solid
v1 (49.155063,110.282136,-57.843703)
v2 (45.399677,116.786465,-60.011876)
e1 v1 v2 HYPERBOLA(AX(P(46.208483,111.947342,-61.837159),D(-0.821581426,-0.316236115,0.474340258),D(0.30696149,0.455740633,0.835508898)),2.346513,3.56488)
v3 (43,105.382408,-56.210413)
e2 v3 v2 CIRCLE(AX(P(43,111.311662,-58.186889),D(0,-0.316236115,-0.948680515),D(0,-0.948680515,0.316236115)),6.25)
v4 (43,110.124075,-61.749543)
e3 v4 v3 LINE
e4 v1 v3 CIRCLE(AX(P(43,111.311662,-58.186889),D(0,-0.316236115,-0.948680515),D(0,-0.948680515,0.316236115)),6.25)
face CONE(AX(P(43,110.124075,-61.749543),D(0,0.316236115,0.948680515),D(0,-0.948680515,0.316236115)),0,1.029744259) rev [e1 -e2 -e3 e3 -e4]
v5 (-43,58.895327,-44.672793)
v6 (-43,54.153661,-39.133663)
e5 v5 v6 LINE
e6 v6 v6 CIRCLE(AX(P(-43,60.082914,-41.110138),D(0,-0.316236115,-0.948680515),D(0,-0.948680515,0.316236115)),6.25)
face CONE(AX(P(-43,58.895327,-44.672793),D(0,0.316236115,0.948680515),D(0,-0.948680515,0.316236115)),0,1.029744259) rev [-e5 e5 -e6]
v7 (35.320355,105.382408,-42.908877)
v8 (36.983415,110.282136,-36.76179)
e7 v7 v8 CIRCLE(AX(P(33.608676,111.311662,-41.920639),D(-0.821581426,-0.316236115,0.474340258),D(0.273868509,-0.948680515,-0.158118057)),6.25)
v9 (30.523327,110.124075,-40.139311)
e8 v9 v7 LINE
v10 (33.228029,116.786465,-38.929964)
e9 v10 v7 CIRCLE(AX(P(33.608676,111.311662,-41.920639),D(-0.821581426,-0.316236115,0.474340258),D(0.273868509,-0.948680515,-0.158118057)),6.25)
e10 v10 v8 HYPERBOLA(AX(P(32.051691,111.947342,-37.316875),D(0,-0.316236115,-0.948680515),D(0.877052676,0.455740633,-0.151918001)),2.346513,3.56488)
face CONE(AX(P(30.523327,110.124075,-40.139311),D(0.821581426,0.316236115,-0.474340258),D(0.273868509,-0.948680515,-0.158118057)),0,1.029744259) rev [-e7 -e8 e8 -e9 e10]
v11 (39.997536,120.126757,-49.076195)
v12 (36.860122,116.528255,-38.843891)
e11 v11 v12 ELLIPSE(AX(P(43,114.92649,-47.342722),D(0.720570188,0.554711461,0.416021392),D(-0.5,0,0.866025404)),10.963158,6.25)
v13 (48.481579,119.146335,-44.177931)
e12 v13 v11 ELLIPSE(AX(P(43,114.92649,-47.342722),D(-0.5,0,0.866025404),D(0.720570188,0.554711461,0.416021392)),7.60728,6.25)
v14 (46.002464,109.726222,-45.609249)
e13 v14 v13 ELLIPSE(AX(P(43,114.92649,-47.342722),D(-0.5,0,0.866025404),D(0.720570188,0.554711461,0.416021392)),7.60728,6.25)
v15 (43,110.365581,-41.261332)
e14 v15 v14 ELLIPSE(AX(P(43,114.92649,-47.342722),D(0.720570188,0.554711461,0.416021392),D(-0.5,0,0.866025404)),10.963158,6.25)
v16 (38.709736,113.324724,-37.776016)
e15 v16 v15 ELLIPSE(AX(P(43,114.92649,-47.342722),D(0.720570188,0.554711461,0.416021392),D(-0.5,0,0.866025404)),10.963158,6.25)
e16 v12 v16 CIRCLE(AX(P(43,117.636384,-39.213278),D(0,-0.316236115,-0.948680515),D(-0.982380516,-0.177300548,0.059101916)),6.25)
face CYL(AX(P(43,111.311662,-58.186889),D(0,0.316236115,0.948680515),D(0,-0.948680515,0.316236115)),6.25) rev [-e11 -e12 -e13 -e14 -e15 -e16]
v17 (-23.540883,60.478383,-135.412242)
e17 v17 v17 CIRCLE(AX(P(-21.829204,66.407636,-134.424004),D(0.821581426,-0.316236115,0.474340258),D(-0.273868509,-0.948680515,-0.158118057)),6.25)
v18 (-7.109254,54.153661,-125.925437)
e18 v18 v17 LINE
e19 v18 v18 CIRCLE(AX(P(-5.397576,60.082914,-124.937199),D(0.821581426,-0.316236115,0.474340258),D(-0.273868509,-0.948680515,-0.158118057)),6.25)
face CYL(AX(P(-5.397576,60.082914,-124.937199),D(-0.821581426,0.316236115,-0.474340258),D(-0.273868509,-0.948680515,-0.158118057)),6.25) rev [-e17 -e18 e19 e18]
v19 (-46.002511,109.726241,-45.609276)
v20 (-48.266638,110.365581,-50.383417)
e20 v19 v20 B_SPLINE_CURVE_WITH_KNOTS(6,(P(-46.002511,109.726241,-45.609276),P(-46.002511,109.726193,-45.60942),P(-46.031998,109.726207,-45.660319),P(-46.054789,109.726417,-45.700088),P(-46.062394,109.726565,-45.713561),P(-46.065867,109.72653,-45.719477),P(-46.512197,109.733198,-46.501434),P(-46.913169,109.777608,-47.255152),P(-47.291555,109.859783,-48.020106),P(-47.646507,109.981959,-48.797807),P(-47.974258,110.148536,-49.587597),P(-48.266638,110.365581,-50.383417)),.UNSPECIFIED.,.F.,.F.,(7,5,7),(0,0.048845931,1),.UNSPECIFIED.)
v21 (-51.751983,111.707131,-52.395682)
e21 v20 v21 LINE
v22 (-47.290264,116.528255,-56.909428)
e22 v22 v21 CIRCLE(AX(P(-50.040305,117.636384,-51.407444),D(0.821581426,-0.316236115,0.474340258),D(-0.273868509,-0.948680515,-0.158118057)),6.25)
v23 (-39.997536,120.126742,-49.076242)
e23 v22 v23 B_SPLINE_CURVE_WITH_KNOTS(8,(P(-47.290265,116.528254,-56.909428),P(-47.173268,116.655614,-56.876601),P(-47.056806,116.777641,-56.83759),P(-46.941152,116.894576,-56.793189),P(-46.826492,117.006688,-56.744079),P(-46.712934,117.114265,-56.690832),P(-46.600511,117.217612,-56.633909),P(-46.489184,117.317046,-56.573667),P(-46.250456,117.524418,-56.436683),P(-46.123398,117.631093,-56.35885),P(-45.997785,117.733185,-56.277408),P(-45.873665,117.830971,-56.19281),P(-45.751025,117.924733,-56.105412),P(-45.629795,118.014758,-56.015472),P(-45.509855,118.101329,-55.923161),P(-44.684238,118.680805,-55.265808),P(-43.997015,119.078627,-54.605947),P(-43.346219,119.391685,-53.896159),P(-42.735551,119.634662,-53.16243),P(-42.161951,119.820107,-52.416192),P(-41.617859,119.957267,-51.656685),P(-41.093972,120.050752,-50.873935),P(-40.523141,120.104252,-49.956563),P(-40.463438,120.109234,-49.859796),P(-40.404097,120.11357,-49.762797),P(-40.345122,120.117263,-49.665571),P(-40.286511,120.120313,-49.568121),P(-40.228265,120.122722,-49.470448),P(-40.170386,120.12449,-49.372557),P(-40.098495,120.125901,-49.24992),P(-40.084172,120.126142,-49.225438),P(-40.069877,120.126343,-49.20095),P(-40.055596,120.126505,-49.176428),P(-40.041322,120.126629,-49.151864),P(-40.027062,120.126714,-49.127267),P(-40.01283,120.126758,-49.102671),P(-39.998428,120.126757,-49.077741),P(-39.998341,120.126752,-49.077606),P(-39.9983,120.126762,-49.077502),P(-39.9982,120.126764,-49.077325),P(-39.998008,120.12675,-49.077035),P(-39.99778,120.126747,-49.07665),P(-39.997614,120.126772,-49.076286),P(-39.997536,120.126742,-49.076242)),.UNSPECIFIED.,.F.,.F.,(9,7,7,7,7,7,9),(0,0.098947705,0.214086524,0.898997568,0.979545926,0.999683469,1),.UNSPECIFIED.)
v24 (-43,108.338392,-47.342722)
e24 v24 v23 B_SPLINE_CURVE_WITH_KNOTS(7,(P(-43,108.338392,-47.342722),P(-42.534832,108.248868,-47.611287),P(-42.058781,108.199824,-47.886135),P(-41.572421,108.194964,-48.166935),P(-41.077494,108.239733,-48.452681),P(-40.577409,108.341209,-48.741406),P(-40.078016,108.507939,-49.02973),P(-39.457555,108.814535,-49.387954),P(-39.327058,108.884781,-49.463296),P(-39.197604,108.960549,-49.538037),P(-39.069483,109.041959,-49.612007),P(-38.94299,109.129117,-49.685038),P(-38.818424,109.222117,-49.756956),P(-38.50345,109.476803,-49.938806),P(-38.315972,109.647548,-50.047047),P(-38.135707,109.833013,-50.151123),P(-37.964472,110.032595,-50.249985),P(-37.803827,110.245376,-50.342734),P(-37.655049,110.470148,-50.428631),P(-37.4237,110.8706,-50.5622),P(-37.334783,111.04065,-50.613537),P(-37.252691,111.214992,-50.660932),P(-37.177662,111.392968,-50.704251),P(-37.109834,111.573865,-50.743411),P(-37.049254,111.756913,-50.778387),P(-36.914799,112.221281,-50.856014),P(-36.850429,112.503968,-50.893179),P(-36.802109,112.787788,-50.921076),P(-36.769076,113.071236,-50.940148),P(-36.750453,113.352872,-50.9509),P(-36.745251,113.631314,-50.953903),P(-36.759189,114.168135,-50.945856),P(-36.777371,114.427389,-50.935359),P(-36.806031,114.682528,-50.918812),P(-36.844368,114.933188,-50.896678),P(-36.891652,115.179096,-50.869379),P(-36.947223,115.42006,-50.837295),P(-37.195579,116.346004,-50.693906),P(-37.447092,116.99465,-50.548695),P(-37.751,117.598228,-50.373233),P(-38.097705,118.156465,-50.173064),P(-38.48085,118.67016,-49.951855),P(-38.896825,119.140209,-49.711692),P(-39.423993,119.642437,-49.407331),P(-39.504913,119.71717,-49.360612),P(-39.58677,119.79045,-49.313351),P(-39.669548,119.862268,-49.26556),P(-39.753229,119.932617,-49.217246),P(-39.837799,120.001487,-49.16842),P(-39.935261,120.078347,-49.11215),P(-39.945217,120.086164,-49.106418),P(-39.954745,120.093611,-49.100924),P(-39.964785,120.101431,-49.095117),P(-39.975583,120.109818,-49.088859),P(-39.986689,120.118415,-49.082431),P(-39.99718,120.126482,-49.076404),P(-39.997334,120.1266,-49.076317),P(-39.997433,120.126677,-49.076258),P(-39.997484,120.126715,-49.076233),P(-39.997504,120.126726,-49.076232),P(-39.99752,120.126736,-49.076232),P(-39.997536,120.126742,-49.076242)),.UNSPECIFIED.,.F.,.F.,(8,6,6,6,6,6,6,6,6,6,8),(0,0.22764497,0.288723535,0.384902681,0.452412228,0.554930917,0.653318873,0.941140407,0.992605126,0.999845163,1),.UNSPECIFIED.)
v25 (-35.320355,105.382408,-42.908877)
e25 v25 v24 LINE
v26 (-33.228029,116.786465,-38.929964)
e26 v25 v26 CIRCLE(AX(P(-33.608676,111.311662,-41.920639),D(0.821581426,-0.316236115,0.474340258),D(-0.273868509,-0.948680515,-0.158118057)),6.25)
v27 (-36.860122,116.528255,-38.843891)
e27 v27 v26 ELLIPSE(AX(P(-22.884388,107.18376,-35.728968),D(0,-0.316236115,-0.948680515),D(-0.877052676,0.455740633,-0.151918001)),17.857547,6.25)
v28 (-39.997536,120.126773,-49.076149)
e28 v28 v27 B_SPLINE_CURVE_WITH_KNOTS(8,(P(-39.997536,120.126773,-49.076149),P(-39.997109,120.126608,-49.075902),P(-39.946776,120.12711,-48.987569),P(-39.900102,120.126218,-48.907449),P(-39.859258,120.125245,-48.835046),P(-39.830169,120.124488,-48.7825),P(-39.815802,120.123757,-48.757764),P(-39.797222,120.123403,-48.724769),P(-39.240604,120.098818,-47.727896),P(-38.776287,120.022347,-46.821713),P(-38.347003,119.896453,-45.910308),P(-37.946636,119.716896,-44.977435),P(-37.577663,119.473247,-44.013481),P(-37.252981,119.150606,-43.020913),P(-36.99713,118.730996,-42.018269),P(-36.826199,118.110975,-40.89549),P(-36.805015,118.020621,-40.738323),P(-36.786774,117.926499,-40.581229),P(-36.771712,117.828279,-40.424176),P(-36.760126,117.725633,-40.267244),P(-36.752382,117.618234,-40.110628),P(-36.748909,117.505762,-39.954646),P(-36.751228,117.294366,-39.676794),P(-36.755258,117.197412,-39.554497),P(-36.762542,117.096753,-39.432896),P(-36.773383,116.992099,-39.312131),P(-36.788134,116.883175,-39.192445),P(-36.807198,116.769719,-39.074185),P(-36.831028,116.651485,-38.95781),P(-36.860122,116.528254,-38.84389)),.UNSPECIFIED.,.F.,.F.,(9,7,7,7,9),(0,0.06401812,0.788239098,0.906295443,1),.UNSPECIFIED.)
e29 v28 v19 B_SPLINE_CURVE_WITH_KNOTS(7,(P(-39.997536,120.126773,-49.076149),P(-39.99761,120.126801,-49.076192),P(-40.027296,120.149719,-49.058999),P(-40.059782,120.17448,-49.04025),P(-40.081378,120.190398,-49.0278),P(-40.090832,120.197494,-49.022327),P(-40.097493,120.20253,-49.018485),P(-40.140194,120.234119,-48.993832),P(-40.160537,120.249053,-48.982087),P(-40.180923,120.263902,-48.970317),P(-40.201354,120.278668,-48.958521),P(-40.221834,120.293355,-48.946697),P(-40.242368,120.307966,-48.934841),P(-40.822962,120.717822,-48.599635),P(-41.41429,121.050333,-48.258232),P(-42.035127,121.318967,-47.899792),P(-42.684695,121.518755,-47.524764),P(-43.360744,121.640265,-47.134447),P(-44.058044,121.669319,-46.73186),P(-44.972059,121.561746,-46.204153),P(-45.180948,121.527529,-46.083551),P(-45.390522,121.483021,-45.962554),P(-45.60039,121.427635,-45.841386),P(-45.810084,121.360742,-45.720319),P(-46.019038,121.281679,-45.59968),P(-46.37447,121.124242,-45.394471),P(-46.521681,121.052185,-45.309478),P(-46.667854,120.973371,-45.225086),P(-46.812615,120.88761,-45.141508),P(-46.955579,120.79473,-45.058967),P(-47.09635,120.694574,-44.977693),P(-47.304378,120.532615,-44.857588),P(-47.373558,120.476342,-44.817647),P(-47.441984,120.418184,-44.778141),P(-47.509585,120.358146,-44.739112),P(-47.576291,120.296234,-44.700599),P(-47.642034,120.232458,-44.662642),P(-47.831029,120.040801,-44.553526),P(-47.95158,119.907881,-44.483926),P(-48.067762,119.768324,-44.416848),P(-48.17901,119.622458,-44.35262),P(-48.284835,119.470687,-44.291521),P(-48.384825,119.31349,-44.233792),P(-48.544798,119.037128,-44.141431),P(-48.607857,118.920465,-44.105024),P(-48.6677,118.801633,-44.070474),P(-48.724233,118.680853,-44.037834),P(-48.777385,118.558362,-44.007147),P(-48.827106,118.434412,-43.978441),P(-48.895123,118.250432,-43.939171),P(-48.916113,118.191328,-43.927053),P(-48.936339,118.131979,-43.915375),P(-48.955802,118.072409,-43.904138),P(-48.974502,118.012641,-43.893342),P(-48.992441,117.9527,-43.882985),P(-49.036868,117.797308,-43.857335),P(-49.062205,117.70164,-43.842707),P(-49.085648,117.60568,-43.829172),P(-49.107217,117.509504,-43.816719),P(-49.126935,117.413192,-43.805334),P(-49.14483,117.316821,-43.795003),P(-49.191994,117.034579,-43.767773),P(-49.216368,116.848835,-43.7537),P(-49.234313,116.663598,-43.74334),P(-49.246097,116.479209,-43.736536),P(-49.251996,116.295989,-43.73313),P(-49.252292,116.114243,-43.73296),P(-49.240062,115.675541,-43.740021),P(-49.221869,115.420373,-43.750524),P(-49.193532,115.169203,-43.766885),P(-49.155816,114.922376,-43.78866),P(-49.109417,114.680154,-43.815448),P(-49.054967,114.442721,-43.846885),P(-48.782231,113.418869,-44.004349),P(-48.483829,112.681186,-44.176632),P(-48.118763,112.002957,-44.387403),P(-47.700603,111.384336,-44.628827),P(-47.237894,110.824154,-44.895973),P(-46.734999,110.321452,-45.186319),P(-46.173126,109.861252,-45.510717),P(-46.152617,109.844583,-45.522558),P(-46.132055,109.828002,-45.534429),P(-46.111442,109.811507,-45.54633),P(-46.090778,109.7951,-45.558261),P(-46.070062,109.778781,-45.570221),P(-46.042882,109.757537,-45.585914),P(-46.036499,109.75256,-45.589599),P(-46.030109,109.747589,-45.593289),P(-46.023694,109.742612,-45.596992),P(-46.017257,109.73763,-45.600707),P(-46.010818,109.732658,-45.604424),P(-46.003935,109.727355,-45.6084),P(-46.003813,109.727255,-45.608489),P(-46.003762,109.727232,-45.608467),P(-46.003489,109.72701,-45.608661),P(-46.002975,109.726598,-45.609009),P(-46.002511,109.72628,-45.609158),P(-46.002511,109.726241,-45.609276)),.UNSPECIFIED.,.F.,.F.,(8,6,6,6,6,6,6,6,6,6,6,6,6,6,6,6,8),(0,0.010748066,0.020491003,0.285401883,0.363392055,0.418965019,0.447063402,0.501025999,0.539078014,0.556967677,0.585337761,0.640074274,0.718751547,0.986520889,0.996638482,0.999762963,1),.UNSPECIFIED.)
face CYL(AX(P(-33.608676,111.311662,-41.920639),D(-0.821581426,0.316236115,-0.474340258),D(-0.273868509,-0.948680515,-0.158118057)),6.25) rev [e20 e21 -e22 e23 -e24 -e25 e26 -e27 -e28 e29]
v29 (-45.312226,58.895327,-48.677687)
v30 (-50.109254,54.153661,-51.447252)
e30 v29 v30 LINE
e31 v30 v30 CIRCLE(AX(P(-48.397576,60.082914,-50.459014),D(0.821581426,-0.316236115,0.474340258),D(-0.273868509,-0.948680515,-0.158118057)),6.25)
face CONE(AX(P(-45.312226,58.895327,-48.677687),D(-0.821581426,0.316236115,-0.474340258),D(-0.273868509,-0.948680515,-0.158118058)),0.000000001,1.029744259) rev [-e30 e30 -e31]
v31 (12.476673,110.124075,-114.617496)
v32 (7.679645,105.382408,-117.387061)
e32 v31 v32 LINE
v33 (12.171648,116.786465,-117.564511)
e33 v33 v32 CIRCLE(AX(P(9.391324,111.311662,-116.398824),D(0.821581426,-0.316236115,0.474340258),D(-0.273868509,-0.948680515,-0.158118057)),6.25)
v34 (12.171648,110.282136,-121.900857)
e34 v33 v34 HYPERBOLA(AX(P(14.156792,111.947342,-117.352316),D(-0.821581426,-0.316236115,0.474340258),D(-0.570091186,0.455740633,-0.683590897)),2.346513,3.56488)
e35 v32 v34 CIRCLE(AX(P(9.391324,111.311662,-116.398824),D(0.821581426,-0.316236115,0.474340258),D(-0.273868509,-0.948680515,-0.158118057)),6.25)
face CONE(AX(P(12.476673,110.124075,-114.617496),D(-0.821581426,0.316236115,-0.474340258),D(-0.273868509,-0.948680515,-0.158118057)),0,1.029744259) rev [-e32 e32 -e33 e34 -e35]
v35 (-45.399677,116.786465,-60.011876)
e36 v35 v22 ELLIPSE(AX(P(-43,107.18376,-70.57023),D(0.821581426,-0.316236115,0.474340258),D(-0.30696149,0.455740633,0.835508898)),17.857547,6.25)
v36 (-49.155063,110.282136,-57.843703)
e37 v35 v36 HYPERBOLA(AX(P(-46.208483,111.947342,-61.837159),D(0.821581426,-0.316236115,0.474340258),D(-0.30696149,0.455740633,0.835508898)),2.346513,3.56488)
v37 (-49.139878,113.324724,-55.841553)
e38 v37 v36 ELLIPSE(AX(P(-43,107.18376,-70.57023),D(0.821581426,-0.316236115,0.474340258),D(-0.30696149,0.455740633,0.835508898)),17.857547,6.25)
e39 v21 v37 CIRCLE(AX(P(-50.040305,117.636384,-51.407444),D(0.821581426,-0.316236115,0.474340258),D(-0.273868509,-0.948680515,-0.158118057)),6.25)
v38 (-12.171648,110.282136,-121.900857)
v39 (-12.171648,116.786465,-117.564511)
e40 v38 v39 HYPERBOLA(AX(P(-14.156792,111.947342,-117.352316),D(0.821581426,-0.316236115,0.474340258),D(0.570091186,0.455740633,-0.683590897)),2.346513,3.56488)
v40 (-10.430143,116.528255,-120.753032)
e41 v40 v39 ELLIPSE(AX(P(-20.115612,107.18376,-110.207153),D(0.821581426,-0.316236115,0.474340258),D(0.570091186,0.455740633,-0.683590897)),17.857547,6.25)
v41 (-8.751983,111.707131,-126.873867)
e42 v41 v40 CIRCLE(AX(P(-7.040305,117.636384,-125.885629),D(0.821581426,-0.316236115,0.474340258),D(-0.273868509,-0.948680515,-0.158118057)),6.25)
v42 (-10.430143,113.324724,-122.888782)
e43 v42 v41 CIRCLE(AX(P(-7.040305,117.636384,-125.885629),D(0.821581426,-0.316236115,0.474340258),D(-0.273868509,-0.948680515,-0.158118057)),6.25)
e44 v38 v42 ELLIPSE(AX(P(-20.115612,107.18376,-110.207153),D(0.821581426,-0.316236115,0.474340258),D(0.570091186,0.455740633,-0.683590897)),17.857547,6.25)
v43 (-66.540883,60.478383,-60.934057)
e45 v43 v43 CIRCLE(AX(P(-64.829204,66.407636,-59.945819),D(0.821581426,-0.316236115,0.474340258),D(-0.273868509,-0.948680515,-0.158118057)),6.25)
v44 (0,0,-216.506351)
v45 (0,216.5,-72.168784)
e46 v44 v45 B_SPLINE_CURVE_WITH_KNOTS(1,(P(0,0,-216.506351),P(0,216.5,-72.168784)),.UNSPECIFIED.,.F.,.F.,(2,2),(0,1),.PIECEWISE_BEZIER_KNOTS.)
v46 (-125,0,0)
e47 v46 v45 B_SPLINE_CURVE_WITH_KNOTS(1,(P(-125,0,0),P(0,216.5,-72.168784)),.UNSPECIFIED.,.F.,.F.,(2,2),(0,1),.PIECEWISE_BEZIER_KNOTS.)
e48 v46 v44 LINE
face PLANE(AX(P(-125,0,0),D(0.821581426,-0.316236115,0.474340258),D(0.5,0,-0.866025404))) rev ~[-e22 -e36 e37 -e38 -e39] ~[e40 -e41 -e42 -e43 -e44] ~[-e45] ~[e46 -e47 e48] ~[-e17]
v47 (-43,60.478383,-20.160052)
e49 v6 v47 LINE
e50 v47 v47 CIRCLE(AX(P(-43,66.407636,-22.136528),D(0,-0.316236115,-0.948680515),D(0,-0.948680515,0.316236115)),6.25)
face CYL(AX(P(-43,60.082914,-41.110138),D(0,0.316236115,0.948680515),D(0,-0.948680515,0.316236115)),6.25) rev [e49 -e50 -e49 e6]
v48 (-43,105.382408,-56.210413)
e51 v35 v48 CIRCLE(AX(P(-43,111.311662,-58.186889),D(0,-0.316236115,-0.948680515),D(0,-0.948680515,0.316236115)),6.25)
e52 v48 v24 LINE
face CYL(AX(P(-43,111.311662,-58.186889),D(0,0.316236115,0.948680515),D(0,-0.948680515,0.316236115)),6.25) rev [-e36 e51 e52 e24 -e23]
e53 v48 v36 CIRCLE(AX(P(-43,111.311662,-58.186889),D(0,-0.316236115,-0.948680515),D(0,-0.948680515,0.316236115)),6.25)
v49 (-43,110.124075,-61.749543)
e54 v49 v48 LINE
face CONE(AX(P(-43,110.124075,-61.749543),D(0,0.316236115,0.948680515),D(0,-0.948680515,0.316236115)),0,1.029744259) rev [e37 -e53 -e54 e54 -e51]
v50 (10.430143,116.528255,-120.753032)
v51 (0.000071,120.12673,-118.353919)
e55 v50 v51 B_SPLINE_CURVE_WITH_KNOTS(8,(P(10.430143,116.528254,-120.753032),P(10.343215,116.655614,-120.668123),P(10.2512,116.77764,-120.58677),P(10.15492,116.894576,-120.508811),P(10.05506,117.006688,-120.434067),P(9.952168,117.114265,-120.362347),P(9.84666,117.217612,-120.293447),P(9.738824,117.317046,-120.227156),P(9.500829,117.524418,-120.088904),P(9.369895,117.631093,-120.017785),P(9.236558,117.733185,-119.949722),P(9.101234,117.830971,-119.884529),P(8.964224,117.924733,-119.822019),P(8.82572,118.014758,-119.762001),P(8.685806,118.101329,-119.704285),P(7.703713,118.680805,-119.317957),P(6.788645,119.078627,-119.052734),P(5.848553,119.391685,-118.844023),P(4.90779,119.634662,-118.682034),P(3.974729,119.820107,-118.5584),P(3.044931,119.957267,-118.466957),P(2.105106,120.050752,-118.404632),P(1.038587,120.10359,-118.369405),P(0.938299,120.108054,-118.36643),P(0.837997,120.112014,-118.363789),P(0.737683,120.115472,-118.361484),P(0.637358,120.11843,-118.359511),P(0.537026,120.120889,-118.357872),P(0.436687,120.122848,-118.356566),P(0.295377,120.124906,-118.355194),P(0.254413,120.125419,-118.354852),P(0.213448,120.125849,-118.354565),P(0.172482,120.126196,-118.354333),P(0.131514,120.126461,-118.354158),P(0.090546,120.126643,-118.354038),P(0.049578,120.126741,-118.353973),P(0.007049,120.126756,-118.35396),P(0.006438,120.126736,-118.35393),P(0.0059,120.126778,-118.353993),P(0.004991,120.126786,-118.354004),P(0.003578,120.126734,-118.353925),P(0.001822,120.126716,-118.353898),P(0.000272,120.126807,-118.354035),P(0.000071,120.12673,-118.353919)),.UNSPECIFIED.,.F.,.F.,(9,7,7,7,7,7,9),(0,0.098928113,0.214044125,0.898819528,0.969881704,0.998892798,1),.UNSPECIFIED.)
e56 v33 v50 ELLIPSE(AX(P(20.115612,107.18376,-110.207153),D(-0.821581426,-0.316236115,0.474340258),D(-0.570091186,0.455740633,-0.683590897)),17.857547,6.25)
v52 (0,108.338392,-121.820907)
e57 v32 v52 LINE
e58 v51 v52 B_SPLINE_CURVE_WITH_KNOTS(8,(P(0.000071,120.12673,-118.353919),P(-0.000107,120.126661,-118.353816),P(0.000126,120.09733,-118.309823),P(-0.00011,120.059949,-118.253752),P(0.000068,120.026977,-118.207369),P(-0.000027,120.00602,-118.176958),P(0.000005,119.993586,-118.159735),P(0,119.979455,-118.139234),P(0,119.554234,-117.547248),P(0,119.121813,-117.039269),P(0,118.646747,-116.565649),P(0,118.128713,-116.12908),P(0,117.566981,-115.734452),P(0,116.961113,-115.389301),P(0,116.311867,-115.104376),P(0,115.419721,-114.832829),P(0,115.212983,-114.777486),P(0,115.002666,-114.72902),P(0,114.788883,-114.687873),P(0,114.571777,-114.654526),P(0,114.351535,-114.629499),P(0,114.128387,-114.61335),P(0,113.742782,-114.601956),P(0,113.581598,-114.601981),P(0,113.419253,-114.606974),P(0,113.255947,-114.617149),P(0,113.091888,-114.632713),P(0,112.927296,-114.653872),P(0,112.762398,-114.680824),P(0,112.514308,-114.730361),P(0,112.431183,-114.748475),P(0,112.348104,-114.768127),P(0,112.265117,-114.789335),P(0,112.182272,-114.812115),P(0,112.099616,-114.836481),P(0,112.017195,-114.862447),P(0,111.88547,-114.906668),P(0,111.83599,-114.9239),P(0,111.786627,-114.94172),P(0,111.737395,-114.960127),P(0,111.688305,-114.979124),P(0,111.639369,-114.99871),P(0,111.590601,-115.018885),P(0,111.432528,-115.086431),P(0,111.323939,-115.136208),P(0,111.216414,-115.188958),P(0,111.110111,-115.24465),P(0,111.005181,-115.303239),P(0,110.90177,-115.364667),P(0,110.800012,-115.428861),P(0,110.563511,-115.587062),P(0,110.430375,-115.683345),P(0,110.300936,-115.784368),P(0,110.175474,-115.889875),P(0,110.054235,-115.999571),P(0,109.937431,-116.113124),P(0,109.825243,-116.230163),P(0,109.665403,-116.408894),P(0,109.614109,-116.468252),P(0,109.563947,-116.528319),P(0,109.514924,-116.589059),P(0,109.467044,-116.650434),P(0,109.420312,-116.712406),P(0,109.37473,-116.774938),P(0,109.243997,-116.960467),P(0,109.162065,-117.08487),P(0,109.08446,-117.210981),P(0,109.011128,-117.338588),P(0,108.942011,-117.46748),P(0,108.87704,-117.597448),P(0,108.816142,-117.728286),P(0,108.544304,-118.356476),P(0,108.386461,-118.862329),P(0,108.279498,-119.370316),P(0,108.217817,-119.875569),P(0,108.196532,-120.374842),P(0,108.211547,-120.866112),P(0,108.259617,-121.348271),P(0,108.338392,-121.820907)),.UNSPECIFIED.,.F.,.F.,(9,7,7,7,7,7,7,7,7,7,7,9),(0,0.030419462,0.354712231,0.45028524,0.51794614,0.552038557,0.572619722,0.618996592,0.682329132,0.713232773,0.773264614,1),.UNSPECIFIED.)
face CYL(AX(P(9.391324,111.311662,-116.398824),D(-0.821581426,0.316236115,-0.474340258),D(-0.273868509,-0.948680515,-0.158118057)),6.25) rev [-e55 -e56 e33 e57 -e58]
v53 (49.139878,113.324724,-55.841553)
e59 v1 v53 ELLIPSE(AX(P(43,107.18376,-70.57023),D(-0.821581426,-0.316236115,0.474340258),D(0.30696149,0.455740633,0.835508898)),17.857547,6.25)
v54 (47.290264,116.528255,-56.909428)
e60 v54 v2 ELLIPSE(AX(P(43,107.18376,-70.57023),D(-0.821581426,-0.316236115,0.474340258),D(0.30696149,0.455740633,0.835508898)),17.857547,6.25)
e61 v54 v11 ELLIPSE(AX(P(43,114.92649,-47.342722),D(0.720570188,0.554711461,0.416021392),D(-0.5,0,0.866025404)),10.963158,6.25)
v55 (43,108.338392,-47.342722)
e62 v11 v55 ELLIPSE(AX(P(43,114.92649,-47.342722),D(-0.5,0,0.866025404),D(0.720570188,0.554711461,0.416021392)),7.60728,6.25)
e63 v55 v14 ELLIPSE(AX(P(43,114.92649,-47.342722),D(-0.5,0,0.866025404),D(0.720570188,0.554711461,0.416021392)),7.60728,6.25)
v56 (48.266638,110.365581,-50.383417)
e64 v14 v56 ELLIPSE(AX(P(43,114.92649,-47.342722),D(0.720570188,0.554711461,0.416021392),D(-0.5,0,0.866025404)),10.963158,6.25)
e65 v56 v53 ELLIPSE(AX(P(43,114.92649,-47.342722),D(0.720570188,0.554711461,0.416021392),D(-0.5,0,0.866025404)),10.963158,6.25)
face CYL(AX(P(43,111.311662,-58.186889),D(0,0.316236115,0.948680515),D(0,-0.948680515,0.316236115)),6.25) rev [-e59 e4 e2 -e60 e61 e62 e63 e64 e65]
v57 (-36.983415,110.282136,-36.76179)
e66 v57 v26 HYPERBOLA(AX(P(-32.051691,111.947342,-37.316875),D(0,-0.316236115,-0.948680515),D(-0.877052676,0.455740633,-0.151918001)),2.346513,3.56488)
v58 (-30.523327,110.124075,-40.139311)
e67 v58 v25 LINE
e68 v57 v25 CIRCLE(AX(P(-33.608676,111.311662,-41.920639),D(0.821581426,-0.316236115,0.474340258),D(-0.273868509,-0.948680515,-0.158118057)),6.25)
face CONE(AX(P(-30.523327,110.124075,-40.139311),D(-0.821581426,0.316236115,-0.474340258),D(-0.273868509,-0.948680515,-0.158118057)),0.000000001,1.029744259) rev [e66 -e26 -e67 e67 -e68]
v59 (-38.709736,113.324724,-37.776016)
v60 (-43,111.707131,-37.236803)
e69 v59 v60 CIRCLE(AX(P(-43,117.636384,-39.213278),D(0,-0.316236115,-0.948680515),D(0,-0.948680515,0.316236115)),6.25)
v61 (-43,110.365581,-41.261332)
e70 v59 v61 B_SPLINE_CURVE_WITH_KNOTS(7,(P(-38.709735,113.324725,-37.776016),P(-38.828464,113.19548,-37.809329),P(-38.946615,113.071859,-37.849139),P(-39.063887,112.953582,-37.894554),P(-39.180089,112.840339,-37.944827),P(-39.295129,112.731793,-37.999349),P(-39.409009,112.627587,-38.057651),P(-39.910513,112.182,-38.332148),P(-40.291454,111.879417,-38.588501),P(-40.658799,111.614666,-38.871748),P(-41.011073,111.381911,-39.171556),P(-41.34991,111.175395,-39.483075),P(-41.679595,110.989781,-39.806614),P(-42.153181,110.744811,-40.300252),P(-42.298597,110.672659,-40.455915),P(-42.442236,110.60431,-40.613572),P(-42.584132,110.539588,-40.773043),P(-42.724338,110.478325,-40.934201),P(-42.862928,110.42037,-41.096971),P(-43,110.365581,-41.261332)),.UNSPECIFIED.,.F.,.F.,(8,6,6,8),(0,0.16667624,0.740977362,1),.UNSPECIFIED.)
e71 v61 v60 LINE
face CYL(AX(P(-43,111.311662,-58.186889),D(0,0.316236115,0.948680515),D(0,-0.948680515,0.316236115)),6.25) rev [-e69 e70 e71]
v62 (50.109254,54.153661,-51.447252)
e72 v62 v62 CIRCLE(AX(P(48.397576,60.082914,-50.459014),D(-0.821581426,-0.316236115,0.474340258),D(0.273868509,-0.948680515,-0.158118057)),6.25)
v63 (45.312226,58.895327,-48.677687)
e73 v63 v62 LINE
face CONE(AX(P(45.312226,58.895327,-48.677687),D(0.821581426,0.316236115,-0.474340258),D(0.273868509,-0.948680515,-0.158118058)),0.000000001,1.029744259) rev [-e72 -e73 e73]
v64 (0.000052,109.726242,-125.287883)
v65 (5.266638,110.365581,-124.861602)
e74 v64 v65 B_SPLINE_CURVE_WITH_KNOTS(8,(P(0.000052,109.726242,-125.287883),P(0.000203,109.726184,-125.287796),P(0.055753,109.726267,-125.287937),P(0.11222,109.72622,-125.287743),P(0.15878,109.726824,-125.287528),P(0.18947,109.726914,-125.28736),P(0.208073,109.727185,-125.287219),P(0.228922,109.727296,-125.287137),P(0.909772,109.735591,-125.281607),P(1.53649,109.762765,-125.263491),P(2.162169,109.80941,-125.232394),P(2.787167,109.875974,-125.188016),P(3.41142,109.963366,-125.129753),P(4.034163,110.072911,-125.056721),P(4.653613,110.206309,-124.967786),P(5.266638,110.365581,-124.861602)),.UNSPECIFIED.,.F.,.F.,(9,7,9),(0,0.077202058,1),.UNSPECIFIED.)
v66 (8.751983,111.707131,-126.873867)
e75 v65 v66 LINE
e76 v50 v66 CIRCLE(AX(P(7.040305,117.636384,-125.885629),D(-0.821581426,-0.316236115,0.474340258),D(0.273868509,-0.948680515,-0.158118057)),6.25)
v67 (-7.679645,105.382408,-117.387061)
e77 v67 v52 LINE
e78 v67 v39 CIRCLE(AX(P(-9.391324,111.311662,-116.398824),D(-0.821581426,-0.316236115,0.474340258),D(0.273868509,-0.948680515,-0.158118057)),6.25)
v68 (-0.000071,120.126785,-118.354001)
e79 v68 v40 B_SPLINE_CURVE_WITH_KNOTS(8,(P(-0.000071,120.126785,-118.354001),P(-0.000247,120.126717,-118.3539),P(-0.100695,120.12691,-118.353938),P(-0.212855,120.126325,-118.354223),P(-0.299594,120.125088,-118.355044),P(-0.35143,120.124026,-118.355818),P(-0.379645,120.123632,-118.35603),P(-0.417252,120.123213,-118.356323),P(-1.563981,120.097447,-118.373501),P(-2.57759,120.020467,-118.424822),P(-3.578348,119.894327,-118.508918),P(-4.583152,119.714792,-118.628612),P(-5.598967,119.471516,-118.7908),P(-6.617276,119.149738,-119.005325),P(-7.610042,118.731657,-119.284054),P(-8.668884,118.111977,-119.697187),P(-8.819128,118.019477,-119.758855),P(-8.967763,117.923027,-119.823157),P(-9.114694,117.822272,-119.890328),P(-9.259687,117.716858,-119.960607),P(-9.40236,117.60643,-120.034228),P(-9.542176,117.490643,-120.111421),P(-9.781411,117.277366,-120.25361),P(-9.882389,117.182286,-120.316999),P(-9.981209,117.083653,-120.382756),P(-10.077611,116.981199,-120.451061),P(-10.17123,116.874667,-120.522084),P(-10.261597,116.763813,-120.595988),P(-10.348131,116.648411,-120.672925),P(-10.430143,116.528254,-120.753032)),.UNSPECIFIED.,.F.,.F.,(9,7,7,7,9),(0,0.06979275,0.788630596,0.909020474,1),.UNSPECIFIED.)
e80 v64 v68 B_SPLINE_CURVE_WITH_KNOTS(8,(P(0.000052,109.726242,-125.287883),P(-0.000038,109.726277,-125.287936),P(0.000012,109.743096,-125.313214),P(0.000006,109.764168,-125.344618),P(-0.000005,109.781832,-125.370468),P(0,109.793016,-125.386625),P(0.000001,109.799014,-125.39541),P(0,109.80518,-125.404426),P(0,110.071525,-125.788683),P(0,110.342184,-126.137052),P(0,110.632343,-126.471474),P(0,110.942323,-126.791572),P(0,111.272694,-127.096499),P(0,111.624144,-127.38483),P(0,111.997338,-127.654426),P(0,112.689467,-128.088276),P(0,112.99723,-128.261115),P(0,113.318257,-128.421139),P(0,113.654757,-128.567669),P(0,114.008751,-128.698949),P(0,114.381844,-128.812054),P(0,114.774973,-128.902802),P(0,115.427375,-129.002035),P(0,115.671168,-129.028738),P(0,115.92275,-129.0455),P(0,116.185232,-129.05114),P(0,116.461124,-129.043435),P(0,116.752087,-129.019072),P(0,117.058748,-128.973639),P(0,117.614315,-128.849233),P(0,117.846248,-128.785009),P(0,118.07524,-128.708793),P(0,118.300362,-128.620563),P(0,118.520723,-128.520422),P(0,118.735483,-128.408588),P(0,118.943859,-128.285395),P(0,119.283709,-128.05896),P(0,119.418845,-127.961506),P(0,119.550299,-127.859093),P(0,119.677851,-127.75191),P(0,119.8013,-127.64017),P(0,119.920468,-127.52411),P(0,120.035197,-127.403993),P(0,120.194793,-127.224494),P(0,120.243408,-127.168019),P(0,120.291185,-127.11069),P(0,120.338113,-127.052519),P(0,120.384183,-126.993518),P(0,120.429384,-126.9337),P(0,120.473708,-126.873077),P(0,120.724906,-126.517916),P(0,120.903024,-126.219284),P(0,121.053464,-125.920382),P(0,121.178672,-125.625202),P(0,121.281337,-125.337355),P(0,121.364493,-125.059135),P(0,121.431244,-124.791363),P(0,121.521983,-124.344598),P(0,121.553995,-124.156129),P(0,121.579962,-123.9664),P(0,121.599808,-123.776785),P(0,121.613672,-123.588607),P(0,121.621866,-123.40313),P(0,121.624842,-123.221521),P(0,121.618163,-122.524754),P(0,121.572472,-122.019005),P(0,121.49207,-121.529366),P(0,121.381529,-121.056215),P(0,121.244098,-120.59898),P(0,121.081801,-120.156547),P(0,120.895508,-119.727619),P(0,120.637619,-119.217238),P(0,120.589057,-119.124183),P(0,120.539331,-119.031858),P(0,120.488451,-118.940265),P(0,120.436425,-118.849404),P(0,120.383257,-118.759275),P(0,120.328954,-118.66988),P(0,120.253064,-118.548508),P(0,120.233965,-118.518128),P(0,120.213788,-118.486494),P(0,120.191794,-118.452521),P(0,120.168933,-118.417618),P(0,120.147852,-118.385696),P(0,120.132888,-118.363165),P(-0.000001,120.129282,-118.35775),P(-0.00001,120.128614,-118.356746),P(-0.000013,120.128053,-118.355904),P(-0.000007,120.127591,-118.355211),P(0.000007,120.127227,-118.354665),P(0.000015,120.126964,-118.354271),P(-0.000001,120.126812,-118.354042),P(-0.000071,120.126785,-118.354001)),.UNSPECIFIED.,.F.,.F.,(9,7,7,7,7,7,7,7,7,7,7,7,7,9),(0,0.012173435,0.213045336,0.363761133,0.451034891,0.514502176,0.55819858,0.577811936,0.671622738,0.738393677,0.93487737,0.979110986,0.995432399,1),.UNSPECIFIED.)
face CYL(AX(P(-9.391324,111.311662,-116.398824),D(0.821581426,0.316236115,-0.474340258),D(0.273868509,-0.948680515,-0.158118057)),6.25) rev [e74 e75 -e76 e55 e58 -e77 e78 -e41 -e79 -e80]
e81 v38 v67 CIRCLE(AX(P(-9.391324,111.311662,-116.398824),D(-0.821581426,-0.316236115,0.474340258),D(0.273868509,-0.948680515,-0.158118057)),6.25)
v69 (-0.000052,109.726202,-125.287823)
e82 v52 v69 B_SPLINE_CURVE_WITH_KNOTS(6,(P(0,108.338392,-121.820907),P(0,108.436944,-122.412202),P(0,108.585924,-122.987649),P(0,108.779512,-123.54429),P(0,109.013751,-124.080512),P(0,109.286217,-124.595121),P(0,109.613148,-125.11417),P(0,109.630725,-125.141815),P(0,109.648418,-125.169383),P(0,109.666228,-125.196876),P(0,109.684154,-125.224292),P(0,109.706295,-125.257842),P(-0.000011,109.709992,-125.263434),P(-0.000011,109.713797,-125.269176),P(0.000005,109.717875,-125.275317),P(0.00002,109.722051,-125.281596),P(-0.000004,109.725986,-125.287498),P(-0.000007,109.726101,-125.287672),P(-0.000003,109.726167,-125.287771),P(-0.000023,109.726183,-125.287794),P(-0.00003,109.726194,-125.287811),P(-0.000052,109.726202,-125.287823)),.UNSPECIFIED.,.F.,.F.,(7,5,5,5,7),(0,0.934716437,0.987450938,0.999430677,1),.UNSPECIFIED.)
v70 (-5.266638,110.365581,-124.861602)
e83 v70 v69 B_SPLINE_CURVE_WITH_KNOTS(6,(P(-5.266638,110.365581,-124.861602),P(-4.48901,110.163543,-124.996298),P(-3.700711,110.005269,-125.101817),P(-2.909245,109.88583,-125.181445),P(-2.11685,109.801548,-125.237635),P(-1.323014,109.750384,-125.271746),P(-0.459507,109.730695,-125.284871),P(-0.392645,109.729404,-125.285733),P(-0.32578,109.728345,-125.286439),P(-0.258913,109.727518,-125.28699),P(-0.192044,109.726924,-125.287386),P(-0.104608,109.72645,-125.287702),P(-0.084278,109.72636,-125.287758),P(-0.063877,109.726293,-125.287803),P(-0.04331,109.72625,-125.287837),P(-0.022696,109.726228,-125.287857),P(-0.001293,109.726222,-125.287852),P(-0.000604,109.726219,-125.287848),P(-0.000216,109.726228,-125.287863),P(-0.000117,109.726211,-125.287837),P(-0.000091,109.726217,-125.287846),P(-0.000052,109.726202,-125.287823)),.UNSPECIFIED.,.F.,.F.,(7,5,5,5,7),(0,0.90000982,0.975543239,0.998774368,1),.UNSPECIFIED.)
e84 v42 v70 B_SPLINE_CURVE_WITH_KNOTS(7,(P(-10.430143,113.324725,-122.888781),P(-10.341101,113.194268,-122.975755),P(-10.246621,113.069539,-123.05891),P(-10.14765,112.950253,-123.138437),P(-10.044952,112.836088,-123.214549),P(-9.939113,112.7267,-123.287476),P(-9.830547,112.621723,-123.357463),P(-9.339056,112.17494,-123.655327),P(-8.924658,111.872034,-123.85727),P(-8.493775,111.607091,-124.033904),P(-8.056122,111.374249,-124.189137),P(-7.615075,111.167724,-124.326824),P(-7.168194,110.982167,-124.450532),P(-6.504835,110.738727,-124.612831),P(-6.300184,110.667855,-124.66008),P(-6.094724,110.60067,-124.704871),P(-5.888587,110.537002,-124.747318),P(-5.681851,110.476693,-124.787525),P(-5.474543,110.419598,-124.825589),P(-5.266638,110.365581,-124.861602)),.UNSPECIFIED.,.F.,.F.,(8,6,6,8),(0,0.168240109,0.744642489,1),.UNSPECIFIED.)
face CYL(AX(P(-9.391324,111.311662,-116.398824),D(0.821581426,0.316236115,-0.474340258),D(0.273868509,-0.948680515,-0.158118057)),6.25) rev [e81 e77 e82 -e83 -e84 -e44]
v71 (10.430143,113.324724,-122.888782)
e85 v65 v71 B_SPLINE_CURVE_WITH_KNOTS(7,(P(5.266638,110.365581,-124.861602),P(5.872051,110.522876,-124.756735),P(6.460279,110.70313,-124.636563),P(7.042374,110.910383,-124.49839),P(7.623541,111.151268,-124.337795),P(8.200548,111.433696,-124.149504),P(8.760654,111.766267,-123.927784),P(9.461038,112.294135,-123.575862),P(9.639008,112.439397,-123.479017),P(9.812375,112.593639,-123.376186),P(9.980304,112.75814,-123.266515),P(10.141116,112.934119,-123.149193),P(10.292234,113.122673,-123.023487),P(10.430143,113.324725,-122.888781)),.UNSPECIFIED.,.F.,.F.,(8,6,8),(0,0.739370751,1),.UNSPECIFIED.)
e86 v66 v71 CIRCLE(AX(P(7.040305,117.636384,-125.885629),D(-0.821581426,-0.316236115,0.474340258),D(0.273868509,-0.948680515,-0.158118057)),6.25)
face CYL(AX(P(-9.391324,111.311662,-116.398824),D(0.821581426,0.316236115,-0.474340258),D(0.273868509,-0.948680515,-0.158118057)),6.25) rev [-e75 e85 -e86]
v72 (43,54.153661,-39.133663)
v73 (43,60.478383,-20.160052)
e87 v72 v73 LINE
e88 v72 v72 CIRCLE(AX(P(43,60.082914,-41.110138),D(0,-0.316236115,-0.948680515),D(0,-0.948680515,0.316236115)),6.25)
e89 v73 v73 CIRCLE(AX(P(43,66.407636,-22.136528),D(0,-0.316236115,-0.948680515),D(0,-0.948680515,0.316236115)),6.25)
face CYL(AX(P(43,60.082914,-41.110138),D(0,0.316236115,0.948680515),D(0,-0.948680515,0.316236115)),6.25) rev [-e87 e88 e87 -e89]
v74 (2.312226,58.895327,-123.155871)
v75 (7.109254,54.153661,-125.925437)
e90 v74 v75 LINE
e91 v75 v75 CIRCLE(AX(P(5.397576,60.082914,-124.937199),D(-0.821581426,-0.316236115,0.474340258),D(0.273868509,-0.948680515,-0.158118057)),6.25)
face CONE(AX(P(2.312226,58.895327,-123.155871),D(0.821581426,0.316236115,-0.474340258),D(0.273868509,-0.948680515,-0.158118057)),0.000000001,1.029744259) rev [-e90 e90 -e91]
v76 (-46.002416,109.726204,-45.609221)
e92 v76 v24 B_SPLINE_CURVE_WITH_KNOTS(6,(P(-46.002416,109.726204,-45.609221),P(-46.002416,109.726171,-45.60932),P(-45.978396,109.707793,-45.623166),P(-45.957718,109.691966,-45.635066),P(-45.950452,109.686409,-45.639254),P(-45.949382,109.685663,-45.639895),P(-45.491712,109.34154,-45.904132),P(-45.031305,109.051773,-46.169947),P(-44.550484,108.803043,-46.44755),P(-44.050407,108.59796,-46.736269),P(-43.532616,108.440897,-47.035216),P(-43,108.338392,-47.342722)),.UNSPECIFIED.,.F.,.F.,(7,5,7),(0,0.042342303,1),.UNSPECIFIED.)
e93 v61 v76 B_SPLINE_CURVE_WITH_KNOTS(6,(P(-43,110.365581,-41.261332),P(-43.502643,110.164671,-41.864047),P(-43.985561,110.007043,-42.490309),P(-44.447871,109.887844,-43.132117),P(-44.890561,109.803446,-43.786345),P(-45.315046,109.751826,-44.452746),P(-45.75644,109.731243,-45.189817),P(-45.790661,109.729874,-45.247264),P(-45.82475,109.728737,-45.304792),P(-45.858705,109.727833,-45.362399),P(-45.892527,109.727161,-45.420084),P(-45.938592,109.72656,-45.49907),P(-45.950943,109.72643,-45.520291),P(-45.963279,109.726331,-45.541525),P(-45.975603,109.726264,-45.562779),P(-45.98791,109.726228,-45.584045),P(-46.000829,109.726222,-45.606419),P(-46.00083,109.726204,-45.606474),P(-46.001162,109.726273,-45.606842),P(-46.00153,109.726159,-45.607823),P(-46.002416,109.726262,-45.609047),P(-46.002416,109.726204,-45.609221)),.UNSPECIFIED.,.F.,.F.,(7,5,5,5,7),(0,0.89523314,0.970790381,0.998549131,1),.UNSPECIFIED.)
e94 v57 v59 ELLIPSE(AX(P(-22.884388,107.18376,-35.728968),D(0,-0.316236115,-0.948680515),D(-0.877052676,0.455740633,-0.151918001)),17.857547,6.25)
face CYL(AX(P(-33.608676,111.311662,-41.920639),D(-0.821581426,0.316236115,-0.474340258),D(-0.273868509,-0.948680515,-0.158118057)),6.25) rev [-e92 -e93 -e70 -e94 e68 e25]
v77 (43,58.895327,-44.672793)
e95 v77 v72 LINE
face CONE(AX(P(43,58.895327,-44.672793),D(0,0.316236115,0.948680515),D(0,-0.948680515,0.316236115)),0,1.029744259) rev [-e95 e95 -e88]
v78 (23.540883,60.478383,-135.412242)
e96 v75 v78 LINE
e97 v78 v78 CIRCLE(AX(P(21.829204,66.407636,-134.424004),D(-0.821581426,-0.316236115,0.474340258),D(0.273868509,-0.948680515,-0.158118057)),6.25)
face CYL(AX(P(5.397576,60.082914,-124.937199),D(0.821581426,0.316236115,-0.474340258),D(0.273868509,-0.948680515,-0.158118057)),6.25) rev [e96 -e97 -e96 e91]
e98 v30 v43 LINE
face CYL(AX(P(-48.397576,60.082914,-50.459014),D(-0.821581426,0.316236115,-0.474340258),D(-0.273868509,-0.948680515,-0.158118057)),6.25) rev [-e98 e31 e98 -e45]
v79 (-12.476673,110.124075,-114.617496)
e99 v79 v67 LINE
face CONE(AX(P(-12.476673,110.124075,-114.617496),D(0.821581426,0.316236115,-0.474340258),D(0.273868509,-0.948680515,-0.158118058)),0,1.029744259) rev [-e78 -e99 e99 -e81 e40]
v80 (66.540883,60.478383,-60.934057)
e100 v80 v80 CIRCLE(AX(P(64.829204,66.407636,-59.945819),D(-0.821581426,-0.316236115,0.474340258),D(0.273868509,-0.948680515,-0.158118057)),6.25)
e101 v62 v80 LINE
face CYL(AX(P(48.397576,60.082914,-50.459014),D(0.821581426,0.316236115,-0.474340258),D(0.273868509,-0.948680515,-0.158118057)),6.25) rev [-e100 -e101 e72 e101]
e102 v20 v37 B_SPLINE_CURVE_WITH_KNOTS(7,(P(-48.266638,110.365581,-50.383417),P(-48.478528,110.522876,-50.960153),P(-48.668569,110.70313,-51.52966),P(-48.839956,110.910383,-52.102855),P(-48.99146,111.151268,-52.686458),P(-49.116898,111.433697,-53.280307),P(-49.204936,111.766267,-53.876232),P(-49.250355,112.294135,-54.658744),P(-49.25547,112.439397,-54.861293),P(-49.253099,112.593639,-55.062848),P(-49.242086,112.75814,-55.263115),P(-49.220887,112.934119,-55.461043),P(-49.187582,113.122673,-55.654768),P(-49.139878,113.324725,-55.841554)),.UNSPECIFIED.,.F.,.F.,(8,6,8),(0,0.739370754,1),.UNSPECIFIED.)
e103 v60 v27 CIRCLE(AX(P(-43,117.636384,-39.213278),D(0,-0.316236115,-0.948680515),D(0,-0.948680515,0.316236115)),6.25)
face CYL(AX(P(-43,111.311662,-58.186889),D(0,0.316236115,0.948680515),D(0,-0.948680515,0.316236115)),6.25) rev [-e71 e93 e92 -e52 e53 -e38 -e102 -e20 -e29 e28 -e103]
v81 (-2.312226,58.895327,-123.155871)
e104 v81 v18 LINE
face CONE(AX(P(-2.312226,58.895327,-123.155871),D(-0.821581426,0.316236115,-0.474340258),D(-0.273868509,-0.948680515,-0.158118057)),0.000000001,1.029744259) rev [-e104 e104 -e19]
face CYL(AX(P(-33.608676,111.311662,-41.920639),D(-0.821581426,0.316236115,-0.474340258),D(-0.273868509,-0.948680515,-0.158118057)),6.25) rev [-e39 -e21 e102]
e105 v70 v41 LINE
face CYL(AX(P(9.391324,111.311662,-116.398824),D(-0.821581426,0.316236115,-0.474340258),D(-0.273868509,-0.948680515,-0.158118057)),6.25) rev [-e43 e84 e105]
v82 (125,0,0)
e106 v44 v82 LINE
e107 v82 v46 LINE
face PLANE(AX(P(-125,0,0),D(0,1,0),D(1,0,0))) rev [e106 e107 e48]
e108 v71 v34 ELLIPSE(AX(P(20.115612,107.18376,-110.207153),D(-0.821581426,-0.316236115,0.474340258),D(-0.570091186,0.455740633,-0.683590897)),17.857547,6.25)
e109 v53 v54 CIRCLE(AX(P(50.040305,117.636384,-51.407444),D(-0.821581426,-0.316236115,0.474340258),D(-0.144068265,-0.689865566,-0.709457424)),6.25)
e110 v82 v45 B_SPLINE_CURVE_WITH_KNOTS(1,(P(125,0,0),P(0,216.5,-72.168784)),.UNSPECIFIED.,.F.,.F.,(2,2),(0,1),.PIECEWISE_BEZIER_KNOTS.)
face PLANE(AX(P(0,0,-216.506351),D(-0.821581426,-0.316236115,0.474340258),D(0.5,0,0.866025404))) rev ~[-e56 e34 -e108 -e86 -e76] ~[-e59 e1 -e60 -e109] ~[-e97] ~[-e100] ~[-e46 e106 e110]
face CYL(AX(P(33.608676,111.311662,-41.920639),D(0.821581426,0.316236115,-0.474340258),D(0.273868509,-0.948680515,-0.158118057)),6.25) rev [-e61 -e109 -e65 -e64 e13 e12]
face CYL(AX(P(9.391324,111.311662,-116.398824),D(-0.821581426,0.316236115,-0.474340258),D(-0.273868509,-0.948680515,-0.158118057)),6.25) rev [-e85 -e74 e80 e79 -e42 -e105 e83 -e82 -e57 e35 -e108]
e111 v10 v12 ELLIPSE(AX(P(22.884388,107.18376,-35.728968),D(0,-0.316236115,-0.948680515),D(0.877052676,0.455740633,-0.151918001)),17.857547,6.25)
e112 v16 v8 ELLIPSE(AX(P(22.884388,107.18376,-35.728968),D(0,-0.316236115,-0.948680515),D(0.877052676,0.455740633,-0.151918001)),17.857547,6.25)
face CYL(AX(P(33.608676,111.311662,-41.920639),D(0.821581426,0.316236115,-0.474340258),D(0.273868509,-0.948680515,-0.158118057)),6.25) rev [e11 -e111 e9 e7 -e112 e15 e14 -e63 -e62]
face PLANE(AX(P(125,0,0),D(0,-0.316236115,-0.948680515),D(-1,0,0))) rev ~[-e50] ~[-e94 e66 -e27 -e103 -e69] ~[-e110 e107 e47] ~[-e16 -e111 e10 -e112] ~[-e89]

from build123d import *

# Parameters (mm, degrees)
M14X1_5_1_AT_2_COUNT     = 2
M14X1_5_1_AT_2_PITCH     = 86
M14X1_5_1_AT_3_COUNT     = 2
M14X1_5_1_AT_3_PITCH     = 101.548018198
M14X1_5_1_AT_4_COUNT     = 2
M14X1_5_1_AT_4_PITCH     = 54
PATTERN_CIRCULAR_1_COUNT = 3


with BuildPart() as part:
    # 草圖1 → 疊層拉伸1 section 0
    with BuildSketch(Plane(origin=(0, 0, 0), x_dir=(1, 0, 0), z_dir=(0, 1, 0)), mode=Mode.PRIVATE) as loft_1_s0:
        with BuildLine():
            Line((0, 0), (-125, 0))
            Line((-125, 0), (0, 216.506350946))
            Line((0, 216.506350946), (125, 0))
            Line((125, 0), (0, 0))
        make_face()
    loft([loft_1_s0.sketch, Vertex(0, 216.5, -72.168783649)])

    # 草圖3 → M14x1.5 螺紋孔1 (revolve, cut)
    with BuildSketch(Plane(origin=(-43, 117.636383872, -39.21327823), x_dir=(0, -0.9486805150951512, 0.3162361147604725), z_dir=(1, 0, 0))):
        Polygon((0, 0), (0, 23.755378869), (6.25, 20), (6.25, 0), align=None)
    m14x1_5_1 = revolve(axis=Axis((-43, 119.644483201, -33.189156959), (0, -0.31623611476047253, -0.9486805150951512)), mode=Mode.SUBTRACT)

    # M14x1.5 螺紋孔1 at 2: M14x1.5 螺紋孔1 ×2
    with Locations(*[(i * M14X1_5_1_AT_2_PITCH, 0, 0) for i in range(1, M14X1_5_1_AT_2_COUNT)]):
        add(m14x1_5_1, mode=Mode.SUBTRACT)

    # M14x1.5 螺紋孔1 at 3: M14x1.5 螺紋孔1 ×2
    with Locations(*[Vector(0.8468899888530682, -0.5044780658851046, 0.1681642881865052) * (i * M14X1_5_1_AT_3_PITCH) for i in range(1, M14X1_5_1_AT_3_COUNT)]):
        add(m14x1_5_1, mode=Mode.SUBTRACT)

    # M14x1.5 螺紋孔1 at 4: M14x1.5 螺紋孔1 ×2
    with Locations(*[Vector(0, -0.9486805150951512, 0.3162361147604726) * (i * M14X1_5_1_AT_4_PITCH) for i in range(1, M14X1_5_1_AT_4_COUNT)]):
        add(m14x1_5_1, mode=Mode.SUBTRACT)

    # 環狀複製排列1: M14x1.5 螺紋孔1 ×3 about axis
    pattern_circular_1_axis = Axis((0, 216.5, -72.168783649), (0, -1, 0))
    for i in range(1, PATTERN_CIRCULAR_1_COUNT):
        add(m14x1_5_1.rotate(pattern_circular_1_axis, i * 360 / PATTERN_CIRCULAR_1_COUNT), mode=Mode.SUBTRACT)

    # 環狀複製排列1 copy 1 sketch → 環狀複製排列1 copy 1 (revolve, cut)
    with BuildSketch(Plane(origin=(-50.040304887, 117.636383872, -51.407443995), x_dir=(-0.27386850897666026, -0.9486805150951512, -0.15811805738023615), z_dir=(-0.4999999999999998, 0, 0.8660254037844387))):
        Polygon((0, 0), (0, 23.755378869), (6.25, 20), (6.25, 0), align=None)
    revolve(axis=Axis((-55.257346943, 119.644483201, -54.419504631), (0.8215814261477076, -0.31623611476047253, 0.47434025754757536)), mode=Mode.SUBTRACT)

    # 環狀複製排列1 copy 2 sketch → 環狀複製排列1 copy 2 (revolve, cut)
    with BuildSketch(Plane(origin=(7.040304887, 117.636383872, -125.885628721), x_dir=(0.27386850897666015, -0.9486805150951512, -0.15811805738023638), z_dir=(-0.5000000000000004, 0, -0.8660254037844384))):
        Polygon((0, 0), (0, 23.755378869), (6.25, 20), (6.25, 0), align=None)
    revolve(axis=Axis((12.257346943, 119.644483201, -128.897689356), (-0.8215814261477072, -0.31623611476047253, 0.474340257547576)), mode=Mode.SUBTRACT)

    # 環狀複製排列1 copy 3 sketch → 環狀複製排列1 copy 3 (revolve, cut)
    with BuildSketch(Plane(origin=(-64.829204372, 66.407636057, -59.945819094), x_dir=(-0.27386850897666026, -0.9486805150951512, -0.15811805738023615), z_dir=(-0.4999999999999998, 0, 0.8660254037844387))):
        Polygon((0, 0), (0, 23.755378869), (6.25, 20), (6.25, 0), align=None)
    revolve(axis=Axis((-70.046246428, 68.415735385, -62.957879729), (0.8215814261477076, -0.31623611476047253, 0.47434025754757536)), mode=Mode.SUBTRACT)

    # 環狀複製排列1 copy 4 sketch → 環狀複製排列1 copy 4 (revolve, cut)
    with BuildSketch(Plane(origin=(21.829204372, 66.407636057, -134.424003819), x_dir=(0.27386850897666015, -0.9486805150951512, -0.15811805738023638), z_dir=(-0.5000000000000004, 0, -0.8660254037844384))):
        Polygon((0, 0), (0, 23.755378869), (6.25, 20), (6.25, 0), align=None)
    revolve(axis=Axis((27.046246428, 68.415735385, -137.436064455), (-0.8215814261477072, -0.31623611476047253, 0.474340257547576)), mode=Mode.SUBTRACT)

    # 環狀複製排列1 copy 5 sketch → 環狀複製排列1 copy 5 (revolve, cut)
    with BuildSketch(Plane(origin=(-21.829204372, 66.407636057, -134.424003819), x_dir=(-0.27386850897666026, -0.9486805150951512, -0.15811805738023615), z_dir=(-0.4999999999999998, 0, 0.8660254037844387))):
        Polygon((0, 0), (0, 23.755378869), (6.25, 20), (6.25, 0), align=None)
    revolve(axis=Axis((-27.046246428, 68.415735385, -137.436064455), (0.8215814261477076, -0.31623611476047253, 0.47434025754757536)), mode=Mode.SUBTRACT)

    # 環狀複製排列1 copy 6 sketch → 環狀複製排列1 copy 6 (revolve, cut)
    with BuildSketch(Plane(origin=(64.829204372, 66.407636057, -59.945819094), x_dir=(0.27386850897666015, -0.9486805150951512, -0.15811805738023638), z_dir=(-0.5000000000000004, 0, -0.8660254037844384))):
        Polygon((0, 0), (0, 23.755378869), (6.25, 20), (6.25, 0), align=None)
    revolve(axis=Axis((70.046246428, 68.415735385, -62.957879729), (-0.8215814261477072, -0.31623611476047253, 0.474340257547576)), mode=Mode.SUBTRACT)


solid = part.part
